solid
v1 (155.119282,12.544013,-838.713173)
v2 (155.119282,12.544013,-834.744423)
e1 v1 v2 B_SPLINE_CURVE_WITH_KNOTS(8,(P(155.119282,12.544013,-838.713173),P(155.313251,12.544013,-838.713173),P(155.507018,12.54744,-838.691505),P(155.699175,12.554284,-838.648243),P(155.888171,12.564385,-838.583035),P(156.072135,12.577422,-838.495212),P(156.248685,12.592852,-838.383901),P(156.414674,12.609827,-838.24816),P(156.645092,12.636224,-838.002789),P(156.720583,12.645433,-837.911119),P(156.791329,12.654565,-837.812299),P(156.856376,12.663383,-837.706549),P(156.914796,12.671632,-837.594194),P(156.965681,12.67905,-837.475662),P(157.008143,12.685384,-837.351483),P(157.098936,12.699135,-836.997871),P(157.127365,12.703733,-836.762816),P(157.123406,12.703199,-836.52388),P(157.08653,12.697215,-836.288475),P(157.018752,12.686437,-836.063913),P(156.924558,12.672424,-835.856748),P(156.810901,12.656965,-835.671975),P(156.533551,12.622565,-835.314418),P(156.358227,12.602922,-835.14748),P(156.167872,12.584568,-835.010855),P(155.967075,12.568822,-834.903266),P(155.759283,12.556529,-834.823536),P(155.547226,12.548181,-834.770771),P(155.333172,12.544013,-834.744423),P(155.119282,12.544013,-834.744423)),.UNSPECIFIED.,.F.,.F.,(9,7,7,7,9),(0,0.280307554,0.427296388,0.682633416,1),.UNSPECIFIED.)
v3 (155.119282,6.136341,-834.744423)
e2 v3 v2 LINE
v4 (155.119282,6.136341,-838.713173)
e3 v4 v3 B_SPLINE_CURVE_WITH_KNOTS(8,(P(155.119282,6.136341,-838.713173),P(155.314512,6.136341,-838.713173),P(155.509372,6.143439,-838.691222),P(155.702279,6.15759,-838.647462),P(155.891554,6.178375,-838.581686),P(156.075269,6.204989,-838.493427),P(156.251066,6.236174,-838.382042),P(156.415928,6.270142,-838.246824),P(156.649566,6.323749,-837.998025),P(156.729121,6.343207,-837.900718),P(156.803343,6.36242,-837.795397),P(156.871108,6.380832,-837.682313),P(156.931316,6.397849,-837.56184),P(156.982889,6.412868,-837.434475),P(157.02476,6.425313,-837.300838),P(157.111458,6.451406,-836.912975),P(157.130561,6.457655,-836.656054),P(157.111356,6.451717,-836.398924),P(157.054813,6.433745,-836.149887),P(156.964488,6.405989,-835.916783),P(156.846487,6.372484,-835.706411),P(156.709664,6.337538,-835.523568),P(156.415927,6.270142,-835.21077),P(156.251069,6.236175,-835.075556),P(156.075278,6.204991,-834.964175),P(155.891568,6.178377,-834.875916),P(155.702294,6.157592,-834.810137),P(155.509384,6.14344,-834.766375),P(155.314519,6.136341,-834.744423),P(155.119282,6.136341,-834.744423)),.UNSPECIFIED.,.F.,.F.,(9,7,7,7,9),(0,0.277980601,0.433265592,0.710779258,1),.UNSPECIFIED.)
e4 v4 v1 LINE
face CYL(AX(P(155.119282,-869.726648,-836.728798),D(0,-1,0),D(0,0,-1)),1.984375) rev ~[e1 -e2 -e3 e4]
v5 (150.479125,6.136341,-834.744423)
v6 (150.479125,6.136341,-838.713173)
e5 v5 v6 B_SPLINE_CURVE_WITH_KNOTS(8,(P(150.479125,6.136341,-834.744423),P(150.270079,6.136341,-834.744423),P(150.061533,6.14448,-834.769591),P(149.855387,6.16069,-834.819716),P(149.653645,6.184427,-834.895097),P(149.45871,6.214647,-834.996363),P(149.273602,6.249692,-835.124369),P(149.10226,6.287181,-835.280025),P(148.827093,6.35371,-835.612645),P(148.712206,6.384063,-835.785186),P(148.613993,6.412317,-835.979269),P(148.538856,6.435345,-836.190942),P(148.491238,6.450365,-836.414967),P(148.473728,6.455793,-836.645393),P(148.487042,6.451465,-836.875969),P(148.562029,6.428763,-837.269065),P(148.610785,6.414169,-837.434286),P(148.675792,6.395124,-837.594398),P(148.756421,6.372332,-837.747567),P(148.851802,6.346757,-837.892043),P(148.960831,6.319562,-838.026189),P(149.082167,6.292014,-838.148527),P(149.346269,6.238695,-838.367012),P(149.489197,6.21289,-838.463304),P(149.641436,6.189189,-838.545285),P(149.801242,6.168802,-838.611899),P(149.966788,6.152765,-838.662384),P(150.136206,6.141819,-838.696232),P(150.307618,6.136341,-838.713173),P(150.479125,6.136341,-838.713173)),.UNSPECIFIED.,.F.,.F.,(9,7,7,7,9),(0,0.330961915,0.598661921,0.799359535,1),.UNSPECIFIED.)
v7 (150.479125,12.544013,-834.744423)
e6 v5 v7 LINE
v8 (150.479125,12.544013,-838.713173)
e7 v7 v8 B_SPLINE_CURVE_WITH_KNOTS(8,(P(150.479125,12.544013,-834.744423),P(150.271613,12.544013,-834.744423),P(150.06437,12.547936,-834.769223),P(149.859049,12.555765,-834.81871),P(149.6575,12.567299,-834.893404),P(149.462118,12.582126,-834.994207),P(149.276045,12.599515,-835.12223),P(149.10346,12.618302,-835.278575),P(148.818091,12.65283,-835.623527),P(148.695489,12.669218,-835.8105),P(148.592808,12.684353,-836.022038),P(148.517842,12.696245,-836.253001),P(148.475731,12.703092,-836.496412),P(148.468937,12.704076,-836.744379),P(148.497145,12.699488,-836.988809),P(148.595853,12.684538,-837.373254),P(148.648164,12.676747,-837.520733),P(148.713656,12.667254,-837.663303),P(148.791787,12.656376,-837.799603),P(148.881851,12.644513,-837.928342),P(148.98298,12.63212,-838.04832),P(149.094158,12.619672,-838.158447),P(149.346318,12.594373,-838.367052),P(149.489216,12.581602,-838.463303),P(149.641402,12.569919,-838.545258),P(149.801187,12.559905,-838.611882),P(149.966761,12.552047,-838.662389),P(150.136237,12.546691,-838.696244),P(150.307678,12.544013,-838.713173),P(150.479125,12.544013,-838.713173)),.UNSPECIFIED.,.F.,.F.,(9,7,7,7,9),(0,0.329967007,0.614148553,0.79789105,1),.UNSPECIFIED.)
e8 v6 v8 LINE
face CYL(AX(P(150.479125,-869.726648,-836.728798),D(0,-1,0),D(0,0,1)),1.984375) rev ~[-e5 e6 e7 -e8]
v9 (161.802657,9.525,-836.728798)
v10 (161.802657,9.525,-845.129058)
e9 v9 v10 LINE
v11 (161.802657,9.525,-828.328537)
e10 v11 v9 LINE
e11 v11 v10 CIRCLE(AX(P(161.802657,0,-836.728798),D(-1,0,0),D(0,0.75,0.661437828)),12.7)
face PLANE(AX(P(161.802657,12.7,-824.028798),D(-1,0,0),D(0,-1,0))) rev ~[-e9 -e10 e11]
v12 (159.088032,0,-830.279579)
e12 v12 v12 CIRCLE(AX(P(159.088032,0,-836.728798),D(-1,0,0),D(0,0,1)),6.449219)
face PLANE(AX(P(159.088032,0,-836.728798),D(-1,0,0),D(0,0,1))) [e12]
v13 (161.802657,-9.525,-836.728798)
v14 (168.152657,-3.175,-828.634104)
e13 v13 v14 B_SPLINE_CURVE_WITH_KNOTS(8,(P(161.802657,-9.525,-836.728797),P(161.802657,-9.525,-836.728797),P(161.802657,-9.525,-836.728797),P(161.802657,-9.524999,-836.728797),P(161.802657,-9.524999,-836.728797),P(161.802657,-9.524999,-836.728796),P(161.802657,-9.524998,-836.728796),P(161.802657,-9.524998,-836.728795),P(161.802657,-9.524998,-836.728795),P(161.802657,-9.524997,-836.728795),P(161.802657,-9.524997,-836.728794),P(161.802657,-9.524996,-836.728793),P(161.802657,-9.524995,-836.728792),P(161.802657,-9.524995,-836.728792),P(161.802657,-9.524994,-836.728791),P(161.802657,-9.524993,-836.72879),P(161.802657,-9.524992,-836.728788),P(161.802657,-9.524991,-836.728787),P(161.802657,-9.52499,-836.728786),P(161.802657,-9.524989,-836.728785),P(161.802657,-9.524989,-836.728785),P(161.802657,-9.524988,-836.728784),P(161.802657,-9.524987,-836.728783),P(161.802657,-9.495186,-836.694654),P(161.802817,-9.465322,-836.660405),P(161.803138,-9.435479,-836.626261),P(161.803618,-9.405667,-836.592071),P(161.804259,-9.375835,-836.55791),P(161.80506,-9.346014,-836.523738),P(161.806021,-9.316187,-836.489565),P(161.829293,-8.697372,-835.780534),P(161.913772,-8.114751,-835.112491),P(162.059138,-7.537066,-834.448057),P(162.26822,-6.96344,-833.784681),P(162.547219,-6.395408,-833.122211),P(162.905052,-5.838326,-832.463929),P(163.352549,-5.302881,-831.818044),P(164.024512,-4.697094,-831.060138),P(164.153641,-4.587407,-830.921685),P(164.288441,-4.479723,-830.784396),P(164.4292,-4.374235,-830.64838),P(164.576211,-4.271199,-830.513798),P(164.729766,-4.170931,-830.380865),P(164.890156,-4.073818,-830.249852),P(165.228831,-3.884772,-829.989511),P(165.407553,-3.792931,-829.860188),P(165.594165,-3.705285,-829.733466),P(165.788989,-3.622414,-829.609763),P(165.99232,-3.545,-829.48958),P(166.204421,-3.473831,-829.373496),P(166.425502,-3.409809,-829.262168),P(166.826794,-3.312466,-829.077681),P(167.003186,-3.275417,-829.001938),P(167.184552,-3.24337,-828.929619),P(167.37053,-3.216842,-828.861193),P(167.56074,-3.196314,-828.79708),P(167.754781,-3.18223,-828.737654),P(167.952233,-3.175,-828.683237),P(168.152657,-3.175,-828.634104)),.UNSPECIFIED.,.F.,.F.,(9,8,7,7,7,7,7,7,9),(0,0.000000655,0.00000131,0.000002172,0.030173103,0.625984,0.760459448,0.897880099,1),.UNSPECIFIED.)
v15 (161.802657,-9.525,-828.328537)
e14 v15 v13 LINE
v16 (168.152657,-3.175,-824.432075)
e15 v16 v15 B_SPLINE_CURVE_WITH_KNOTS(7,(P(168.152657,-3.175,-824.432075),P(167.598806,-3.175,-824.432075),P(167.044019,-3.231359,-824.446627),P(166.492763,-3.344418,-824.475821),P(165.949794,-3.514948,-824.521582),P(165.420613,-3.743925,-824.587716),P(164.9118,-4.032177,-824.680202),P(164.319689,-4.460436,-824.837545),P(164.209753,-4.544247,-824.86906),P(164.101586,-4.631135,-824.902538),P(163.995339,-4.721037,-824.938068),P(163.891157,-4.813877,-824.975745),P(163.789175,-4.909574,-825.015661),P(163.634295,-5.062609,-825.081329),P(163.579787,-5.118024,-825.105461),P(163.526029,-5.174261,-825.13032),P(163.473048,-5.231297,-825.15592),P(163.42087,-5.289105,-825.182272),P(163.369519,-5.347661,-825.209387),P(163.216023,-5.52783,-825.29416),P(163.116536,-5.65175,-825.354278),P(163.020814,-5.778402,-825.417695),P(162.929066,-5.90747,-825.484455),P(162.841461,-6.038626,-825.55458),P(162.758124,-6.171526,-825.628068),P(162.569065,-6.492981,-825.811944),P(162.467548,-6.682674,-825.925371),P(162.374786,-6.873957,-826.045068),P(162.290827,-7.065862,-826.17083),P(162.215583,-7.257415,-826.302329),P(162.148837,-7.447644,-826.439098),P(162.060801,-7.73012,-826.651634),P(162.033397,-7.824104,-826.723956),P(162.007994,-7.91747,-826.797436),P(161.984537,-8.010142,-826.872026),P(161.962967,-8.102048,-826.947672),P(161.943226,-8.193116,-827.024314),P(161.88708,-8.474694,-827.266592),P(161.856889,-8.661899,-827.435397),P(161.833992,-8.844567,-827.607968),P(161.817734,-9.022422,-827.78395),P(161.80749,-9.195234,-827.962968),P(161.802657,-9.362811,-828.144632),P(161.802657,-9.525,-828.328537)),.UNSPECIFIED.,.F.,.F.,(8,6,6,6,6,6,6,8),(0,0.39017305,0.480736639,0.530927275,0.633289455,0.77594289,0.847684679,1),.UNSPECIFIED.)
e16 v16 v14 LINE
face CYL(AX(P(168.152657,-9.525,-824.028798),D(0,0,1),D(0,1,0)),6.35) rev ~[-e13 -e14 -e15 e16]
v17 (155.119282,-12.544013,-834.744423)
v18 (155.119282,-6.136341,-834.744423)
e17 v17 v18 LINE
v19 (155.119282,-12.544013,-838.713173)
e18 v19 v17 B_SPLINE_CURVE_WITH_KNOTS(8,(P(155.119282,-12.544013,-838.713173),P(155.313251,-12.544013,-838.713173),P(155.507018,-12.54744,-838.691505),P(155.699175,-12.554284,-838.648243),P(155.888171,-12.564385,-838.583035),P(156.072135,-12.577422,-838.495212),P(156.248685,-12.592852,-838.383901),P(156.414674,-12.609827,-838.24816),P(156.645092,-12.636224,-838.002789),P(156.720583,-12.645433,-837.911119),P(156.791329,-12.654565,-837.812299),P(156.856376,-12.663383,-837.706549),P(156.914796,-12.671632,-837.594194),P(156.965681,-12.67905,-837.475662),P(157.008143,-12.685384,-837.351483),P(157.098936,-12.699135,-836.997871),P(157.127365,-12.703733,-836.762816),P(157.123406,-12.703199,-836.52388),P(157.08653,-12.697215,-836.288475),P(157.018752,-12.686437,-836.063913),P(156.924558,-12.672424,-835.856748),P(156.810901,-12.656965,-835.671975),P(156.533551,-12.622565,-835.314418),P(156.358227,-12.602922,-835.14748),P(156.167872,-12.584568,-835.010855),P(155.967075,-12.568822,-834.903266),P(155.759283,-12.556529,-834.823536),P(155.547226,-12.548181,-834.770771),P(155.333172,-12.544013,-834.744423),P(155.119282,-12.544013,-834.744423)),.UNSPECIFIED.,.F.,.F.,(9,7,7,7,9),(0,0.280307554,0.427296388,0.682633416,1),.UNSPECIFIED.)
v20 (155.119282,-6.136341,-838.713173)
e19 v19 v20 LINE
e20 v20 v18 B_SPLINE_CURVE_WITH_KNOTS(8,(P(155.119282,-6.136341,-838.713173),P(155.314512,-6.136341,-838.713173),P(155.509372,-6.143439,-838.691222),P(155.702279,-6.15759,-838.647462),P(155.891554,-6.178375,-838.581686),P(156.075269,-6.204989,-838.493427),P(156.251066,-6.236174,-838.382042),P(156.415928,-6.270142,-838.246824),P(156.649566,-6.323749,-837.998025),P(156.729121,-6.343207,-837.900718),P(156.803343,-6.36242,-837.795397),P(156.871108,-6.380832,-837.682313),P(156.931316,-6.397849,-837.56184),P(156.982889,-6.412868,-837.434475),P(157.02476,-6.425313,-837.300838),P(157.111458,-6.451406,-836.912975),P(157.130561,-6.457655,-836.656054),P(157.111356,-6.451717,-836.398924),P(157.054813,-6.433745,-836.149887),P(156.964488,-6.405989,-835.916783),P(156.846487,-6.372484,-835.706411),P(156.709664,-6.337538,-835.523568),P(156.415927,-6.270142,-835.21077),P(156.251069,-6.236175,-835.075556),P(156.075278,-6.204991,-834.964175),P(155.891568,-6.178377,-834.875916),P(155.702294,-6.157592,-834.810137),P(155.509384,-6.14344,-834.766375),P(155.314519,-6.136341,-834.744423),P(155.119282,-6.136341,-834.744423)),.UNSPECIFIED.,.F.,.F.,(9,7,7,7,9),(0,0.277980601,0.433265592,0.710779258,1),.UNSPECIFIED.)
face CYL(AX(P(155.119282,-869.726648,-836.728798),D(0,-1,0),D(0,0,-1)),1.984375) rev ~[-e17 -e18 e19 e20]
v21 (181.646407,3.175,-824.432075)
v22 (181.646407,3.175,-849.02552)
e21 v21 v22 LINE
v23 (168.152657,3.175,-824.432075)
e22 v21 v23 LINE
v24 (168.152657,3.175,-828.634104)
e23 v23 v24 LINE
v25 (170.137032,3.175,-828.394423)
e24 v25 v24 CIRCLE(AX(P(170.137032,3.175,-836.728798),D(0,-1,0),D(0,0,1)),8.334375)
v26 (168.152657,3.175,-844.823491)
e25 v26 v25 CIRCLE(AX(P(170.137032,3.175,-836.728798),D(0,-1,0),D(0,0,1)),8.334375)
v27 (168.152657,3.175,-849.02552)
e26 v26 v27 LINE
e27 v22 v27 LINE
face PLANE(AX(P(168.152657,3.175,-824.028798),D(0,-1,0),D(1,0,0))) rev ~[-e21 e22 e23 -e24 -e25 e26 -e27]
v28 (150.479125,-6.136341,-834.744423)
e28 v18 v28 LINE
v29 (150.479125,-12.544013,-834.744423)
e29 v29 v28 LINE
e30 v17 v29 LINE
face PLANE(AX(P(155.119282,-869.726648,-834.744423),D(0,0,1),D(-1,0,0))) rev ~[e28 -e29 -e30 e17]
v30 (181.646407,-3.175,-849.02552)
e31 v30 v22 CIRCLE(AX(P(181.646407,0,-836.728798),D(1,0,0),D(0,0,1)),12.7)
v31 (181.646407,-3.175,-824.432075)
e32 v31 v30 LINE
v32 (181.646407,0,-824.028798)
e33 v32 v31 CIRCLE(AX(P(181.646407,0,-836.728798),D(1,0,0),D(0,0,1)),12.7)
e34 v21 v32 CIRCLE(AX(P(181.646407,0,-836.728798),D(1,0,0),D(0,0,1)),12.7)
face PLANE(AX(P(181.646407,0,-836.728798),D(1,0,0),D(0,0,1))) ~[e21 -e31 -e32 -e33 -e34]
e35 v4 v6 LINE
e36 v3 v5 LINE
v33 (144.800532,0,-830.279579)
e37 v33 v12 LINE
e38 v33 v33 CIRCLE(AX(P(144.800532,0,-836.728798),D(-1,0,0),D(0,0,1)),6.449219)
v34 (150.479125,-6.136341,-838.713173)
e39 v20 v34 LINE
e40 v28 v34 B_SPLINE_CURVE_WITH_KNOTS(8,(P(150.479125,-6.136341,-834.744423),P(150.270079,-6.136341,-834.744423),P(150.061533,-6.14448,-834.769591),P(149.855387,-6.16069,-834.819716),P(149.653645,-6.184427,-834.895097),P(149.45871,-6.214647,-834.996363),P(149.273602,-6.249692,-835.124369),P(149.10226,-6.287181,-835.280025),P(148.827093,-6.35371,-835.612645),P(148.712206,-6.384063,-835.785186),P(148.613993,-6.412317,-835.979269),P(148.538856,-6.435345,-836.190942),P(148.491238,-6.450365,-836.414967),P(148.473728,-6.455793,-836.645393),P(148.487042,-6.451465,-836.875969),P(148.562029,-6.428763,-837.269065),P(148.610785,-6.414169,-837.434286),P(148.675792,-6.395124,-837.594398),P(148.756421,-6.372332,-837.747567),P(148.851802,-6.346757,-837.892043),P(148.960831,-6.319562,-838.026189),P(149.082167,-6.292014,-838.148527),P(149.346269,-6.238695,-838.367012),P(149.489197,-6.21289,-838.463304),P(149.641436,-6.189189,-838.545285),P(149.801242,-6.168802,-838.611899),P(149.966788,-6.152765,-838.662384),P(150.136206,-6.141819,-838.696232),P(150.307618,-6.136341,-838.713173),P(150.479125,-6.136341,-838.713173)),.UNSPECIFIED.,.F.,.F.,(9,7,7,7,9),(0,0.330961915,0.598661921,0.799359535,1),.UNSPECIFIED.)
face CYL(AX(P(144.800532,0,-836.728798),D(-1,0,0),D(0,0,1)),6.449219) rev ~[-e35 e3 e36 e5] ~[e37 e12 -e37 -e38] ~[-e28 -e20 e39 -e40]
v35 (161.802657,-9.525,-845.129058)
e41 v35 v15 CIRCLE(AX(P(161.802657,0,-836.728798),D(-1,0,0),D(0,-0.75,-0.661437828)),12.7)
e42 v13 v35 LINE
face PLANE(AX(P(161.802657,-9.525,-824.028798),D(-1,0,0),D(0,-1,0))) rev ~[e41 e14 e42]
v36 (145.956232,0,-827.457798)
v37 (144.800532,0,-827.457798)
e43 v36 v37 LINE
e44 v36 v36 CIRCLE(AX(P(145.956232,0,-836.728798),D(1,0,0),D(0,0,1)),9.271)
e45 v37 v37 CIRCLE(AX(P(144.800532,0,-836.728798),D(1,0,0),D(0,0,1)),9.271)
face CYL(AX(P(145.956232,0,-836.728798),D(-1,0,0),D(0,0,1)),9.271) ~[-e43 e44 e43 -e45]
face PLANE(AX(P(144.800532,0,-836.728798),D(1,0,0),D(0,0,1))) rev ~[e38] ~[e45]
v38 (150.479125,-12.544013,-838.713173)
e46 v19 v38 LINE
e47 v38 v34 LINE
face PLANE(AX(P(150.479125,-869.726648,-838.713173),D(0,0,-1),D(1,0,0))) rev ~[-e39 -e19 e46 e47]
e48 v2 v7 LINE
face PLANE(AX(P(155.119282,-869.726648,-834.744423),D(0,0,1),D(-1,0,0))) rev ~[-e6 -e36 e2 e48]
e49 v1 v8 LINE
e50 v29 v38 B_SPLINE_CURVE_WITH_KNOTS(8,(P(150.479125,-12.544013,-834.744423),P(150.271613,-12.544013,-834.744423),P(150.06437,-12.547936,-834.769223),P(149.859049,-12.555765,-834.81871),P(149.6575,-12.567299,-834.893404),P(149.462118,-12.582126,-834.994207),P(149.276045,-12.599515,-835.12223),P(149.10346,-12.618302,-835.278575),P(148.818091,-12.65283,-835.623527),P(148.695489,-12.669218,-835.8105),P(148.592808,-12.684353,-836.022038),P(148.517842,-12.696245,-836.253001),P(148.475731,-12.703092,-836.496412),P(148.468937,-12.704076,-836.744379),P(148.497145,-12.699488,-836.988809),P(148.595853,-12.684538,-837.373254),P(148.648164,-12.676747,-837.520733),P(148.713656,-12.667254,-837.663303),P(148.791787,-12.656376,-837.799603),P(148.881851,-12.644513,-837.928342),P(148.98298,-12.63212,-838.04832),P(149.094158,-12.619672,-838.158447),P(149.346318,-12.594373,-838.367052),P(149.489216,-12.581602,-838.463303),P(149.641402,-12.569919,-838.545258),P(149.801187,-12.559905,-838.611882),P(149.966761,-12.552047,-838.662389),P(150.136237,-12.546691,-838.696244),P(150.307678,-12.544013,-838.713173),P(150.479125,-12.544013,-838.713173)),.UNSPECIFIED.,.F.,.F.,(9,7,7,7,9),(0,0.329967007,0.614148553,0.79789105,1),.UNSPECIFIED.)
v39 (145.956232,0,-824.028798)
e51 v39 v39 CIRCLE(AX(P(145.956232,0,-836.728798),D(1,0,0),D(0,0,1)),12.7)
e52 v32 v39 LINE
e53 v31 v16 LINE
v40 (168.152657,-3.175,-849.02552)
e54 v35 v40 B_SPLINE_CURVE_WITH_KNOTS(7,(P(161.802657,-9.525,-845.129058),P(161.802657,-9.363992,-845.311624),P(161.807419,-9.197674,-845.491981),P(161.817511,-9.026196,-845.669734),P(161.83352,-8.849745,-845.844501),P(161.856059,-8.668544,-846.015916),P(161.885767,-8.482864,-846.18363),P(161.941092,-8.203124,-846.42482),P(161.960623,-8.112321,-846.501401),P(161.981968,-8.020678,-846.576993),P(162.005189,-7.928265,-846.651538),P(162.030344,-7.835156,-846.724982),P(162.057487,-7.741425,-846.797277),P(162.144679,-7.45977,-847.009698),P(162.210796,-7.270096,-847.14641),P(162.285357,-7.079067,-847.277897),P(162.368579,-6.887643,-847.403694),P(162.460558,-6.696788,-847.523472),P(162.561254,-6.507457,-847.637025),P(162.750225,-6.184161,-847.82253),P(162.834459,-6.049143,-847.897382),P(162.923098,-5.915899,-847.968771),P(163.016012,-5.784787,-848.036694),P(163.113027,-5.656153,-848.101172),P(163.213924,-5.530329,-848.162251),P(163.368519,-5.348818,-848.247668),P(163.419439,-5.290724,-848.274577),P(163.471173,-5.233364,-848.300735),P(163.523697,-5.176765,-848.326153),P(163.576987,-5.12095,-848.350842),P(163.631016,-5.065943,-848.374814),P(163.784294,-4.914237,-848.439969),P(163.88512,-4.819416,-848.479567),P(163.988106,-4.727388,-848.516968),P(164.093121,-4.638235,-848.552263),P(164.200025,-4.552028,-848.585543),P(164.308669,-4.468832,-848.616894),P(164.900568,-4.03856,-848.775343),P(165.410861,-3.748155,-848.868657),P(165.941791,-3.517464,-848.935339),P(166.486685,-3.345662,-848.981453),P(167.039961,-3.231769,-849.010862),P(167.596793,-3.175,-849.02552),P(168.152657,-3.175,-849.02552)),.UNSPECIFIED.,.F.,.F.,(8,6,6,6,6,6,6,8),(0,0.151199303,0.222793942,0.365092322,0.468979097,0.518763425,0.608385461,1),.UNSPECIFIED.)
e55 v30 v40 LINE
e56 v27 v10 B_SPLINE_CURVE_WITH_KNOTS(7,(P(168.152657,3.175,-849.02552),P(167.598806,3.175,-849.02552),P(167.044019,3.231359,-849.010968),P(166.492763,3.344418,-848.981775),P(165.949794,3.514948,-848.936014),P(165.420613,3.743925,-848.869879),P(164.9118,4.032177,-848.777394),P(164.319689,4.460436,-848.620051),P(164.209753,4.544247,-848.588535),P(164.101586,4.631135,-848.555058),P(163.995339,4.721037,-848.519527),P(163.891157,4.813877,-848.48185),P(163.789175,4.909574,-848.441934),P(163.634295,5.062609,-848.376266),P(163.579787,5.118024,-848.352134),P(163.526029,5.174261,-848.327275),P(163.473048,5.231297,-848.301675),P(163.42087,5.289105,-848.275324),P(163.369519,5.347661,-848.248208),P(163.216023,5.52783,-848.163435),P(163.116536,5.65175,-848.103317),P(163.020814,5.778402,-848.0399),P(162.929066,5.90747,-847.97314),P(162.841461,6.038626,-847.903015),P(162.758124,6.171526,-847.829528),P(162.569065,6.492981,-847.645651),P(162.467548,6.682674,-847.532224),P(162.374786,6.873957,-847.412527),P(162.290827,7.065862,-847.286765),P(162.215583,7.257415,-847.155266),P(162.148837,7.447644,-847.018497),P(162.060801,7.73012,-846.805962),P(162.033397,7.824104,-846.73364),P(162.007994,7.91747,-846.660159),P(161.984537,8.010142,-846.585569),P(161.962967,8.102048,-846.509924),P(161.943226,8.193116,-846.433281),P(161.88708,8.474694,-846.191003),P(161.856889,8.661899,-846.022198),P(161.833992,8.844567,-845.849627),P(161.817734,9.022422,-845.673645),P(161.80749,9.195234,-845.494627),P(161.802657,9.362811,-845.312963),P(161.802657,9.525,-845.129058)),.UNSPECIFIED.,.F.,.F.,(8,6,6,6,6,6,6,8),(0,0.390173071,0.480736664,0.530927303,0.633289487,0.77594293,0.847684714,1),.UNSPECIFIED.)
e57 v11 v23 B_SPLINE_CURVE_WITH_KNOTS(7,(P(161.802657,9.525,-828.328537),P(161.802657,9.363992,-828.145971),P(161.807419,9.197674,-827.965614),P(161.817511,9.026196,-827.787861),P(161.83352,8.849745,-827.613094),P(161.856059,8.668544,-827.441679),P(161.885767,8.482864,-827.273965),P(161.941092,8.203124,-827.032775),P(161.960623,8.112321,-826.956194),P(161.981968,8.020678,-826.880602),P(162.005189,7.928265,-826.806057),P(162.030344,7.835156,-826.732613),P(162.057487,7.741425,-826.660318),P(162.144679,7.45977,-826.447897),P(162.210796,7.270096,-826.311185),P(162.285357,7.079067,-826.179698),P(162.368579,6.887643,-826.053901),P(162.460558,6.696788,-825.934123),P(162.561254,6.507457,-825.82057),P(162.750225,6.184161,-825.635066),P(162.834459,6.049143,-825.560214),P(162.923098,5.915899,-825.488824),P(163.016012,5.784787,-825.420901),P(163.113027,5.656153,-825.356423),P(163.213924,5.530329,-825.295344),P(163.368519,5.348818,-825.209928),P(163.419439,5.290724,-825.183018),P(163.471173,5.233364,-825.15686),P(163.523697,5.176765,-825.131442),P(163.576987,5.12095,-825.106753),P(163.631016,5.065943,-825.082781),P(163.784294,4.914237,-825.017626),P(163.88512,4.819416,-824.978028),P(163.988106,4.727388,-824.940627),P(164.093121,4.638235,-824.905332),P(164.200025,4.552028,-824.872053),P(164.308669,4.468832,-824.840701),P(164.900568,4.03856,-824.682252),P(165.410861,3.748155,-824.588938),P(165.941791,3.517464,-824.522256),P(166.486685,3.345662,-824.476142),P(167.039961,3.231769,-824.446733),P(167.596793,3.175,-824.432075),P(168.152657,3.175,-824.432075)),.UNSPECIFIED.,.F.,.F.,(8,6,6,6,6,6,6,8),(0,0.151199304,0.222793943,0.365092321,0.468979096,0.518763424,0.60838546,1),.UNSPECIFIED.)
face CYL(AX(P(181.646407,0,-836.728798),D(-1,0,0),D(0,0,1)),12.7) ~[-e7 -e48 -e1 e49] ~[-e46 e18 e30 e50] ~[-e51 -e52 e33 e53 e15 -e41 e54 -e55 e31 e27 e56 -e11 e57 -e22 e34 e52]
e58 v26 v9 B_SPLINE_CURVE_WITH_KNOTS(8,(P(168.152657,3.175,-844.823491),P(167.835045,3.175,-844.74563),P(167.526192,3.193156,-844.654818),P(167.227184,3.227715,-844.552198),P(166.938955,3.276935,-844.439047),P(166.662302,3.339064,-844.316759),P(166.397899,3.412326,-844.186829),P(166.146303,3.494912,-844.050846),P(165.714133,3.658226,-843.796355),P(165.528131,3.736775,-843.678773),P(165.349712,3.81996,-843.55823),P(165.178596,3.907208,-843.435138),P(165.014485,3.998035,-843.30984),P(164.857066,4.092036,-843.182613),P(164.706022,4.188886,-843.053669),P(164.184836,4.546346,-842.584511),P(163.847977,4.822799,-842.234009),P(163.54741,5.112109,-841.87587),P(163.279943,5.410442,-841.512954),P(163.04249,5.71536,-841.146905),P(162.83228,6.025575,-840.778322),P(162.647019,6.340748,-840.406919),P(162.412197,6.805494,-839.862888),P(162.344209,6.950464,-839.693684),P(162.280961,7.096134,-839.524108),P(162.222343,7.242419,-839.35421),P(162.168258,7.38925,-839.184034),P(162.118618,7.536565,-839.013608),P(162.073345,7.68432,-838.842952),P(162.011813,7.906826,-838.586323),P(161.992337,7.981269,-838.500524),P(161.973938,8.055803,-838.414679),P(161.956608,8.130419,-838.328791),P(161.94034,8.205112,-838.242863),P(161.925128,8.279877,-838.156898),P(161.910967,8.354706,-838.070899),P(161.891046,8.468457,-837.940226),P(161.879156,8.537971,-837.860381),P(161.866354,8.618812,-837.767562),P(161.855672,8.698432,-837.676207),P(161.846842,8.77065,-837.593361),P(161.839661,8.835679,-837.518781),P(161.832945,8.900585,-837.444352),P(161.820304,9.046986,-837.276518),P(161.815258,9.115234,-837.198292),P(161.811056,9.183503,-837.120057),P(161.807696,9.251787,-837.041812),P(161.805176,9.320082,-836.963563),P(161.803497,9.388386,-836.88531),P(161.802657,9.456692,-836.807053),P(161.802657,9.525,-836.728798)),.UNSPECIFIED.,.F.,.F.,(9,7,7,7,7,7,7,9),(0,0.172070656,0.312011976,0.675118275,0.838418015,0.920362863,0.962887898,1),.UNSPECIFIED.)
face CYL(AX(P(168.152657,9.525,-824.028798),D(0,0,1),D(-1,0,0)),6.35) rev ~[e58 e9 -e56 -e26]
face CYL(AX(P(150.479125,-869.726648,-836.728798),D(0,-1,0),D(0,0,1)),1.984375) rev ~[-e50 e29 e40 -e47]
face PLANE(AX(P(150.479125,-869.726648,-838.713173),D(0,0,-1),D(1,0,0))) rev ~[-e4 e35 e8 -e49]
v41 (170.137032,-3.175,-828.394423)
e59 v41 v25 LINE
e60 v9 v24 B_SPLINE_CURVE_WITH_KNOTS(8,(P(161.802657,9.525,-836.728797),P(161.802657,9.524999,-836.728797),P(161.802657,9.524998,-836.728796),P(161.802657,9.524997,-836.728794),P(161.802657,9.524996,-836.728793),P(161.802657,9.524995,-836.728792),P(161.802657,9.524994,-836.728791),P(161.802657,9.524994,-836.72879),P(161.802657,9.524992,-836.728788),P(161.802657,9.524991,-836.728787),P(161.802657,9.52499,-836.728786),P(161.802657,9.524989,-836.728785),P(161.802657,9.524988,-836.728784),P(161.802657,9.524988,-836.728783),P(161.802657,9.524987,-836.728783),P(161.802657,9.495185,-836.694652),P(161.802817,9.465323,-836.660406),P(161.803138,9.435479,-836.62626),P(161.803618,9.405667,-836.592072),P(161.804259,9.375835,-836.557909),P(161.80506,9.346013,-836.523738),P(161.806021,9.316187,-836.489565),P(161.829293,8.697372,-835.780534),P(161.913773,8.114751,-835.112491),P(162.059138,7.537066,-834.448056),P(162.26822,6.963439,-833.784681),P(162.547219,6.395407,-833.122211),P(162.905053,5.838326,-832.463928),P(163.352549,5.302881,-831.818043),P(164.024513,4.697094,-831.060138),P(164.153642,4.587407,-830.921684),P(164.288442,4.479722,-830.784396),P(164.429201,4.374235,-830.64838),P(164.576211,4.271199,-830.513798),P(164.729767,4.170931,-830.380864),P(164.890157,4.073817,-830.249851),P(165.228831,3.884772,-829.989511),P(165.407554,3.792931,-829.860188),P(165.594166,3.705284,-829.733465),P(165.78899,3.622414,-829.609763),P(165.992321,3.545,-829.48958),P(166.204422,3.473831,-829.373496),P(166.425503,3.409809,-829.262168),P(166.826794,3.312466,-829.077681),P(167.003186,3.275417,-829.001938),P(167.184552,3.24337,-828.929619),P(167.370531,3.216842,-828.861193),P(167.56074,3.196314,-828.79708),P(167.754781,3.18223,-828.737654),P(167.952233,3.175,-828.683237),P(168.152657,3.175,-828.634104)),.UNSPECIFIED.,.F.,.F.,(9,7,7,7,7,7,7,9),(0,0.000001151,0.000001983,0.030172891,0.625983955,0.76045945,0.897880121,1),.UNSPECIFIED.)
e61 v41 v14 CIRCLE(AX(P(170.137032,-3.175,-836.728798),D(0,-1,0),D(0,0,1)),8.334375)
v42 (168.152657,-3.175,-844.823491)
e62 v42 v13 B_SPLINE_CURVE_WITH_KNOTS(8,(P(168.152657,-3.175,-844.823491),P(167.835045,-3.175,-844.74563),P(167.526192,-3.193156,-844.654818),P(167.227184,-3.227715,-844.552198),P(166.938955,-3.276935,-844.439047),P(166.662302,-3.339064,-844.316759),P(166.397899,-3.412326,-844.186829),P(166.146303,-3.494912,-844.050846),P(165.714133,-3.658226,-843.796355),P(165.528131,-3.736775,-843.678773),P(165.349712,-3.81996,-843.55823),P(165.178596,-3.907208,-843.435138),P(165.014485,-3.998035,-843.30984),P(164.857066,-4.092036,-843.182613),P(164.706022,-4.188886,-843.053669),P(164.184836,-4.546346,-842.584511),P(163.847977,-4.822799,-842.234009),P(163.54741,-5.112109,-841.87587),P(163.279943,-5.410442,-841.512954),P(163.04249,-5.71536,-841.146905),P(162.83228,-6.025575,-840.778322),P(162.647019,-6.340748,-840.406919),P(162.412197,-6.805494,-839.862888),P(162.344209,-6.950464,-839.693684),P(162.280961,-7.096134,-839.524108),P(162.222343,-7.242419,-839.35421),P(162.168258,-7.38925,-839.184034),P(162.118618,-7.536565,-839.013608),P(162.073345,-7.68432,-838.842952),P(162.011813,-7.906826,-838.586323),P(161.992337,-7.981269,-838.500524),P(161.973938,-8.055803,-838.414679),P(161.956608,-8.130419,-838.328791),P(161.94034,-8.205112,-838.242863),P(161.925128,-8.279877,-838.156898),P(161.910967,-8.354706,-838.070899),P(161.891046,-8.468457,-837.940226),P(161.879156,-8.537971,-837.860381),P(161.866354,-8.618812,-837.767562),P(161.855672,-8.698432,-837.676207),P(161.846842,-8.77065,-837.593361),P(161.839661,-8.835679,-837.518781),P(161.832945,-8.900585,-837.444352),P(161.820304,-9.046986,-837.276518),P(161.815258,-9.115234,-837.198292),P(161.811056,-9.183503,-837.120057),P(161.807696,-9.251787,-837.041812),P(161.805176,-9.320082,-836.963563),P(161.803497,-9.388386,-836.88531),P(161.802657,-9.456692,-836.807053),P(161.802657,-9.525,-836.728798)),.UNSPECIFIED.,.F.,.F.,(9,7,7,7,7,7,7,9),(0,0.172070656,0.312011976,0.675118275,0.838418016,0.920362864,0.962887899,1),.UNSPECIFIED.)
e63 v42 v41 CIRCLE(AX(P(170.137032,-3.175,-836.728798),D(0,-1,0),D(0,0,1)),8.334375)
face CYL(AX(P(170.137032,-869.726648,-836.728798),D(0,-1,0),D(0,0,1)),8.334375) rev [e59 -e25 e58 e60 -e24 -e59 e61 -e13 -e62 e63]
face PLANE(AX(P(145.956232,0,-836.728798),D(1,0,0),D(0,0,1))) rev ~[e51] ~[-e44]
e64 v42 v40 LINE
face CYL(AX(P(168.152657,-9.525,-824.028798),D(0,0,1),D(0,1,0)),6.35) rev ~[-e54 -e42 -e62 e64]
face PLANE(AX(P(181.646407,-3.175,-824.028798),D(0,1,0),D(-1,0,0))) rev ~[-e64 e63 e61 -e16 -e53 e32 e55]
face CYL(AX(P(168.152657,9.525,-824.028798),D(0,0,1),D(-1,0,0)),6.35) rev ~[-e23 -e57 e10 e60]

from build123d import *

# Parameters (mm, degrees)
CUT_EXTRUDE1_DEPTH      = 869.726648215
CUT_EXTRUDE1_DEPTH_BACK = 869.726648215
SKETCH2_3_R             = 8.334375
SKETCH3_R               = 6.44921875
CUT_EXTRUDE2_DEPTH      = 14.2875
CUT_EXTRUDE4_DEPTH      = 184.852841047


with BuildPart() as part:
    # Sketch2 one side → Revolve1 (revolve)
    with BuildSketch(Plane(origin=(0, 0, 0), x_dir=(1, 0, 0), z_dir=(0, 1, 0)), mode=Mode.PRIVATE) as revolve1_sk:
        with BuildLine():
            Line((161.802656837, 836.728797606), (178.471406837, 836.728797606))
            ThreePointArc((178.471406837, 836.728797606), (170.137031837, 845.063172606), (161.802656837, 836.728797606))
        make_face()
        with BuildLine():
            Line((155.119281837, 838.713172606), (150.479125, 838.713172606))
            ThreePointArc((150.479125, 838.713172606), (149.075959981, 838.131962625), (148.49475, 836.728797606))
            Line((148.49475, 836.728797606), (157.103656837, 836.728797606))
            ThreePointArc((157.103656837, 836.728797606), (156.522446856, 838.131962625), (155.119281837, 838.713172606))
        make_face()
        Polygon((144.800531837, 845.999797606), (144.800531837, 836.728797606), (181.646406837, 836.728797606), (181.646406837, 849.428797606), (145.956231837, 849.428797606), (145.956231837, 845.999797606), align=None)
    revolve(revolve1_sk.sketch.rotate(Axis((144.800531837, 0, -836.728797606), (1, 0, 0)), 180), axis=Axis((144.800531837, 0, -836.728797606), (1, 0, 0)))

    # Sketch2<3> → Cut-Extrude1 (cut, two sides: drawn at the far end of the back side and taken through both)
    with BuildSketch(Plane(origin=(0, 0, 0), x_dir=(1, 0, 0), z_dir=(0, 1, 0)).offset(-CUT_EXTRUDE1_DEPTH_BACK)):
        with Locations(Location((170.137031837, 836.728797606, 0), (0, 0, 270))):
            Circle(SKETCH2_3_R)
        with BuildLine():
            Line((150.479125, 838.713172606), (155.119281837, 838.713172606))
            ThreePointArc((155.119281837, 838.713172606), (157.103656837, 836.728797606), (155.119281837, 834.744422606))
            Line((155.119281837, 834.744422606), (150.479125, 834.744422606))
            ThreePointArc((150.479125, 834.744422606), (148.49475, 836.728797606), (150.479125, 838.713172606))
        make_face()
    extrude(amount=CUT_EXTRUDE1_DEPTH + CUT_EXTRUDE1_DEPTH_BACK, mode=Mode.SUBTRACT)

    # Sketch3 → Cut-Extrude2 (cut)
    with BuildSketch(Plane.ZY.offset(-144.800531837)):
        with Locations((-836.728797606, 0)):
            Circle(SKETCH3_R)
    extrude(amount=-CUT_EXTRUDE2_DEPTH, mode=Mode.SUBTRACT)

    # Sketch5 → Cut-Extrude4 (cut, through all)
    with BuildSketch(Plane.XY.offset(-824.028797606)):
        with BuildLine():
            Line((168.152656837, 3.175), (181.646406837, 3.175))
            Line((181.646406837, 3.175), (181.646406837, 12.7))
            Line((181.646406837, 12.7), (161.802656837, 12.7))
            Line((161.802656837, 12.7), (161.802656837, 9.525))
            ThreePointArc((161.802656837, 9.525), (163.662528777, 5.034871939), (168.152656837, 3.175))
        make_face()
        with BuildLine():
            Line((161.802656837, -12.7), (181.646406837, -12.7))
            Line((181.646406837, -12.7), (181.646406837, -3.175))
            Line((181.646406837, -3.175), (168.152656837, -3.175))
            ThreePointArc((168.152656837, -3.175), (163.662528777, -5.034871939), (161.802656837, -9.525))
            Line((161.802656837, -9.525), (161.802656837, -12.7))
        make_face()
    extrude(amount=-CUT_EXTRUDE4_DEPTH, mode=Mode.SUBTRACT)


solid = part.part
